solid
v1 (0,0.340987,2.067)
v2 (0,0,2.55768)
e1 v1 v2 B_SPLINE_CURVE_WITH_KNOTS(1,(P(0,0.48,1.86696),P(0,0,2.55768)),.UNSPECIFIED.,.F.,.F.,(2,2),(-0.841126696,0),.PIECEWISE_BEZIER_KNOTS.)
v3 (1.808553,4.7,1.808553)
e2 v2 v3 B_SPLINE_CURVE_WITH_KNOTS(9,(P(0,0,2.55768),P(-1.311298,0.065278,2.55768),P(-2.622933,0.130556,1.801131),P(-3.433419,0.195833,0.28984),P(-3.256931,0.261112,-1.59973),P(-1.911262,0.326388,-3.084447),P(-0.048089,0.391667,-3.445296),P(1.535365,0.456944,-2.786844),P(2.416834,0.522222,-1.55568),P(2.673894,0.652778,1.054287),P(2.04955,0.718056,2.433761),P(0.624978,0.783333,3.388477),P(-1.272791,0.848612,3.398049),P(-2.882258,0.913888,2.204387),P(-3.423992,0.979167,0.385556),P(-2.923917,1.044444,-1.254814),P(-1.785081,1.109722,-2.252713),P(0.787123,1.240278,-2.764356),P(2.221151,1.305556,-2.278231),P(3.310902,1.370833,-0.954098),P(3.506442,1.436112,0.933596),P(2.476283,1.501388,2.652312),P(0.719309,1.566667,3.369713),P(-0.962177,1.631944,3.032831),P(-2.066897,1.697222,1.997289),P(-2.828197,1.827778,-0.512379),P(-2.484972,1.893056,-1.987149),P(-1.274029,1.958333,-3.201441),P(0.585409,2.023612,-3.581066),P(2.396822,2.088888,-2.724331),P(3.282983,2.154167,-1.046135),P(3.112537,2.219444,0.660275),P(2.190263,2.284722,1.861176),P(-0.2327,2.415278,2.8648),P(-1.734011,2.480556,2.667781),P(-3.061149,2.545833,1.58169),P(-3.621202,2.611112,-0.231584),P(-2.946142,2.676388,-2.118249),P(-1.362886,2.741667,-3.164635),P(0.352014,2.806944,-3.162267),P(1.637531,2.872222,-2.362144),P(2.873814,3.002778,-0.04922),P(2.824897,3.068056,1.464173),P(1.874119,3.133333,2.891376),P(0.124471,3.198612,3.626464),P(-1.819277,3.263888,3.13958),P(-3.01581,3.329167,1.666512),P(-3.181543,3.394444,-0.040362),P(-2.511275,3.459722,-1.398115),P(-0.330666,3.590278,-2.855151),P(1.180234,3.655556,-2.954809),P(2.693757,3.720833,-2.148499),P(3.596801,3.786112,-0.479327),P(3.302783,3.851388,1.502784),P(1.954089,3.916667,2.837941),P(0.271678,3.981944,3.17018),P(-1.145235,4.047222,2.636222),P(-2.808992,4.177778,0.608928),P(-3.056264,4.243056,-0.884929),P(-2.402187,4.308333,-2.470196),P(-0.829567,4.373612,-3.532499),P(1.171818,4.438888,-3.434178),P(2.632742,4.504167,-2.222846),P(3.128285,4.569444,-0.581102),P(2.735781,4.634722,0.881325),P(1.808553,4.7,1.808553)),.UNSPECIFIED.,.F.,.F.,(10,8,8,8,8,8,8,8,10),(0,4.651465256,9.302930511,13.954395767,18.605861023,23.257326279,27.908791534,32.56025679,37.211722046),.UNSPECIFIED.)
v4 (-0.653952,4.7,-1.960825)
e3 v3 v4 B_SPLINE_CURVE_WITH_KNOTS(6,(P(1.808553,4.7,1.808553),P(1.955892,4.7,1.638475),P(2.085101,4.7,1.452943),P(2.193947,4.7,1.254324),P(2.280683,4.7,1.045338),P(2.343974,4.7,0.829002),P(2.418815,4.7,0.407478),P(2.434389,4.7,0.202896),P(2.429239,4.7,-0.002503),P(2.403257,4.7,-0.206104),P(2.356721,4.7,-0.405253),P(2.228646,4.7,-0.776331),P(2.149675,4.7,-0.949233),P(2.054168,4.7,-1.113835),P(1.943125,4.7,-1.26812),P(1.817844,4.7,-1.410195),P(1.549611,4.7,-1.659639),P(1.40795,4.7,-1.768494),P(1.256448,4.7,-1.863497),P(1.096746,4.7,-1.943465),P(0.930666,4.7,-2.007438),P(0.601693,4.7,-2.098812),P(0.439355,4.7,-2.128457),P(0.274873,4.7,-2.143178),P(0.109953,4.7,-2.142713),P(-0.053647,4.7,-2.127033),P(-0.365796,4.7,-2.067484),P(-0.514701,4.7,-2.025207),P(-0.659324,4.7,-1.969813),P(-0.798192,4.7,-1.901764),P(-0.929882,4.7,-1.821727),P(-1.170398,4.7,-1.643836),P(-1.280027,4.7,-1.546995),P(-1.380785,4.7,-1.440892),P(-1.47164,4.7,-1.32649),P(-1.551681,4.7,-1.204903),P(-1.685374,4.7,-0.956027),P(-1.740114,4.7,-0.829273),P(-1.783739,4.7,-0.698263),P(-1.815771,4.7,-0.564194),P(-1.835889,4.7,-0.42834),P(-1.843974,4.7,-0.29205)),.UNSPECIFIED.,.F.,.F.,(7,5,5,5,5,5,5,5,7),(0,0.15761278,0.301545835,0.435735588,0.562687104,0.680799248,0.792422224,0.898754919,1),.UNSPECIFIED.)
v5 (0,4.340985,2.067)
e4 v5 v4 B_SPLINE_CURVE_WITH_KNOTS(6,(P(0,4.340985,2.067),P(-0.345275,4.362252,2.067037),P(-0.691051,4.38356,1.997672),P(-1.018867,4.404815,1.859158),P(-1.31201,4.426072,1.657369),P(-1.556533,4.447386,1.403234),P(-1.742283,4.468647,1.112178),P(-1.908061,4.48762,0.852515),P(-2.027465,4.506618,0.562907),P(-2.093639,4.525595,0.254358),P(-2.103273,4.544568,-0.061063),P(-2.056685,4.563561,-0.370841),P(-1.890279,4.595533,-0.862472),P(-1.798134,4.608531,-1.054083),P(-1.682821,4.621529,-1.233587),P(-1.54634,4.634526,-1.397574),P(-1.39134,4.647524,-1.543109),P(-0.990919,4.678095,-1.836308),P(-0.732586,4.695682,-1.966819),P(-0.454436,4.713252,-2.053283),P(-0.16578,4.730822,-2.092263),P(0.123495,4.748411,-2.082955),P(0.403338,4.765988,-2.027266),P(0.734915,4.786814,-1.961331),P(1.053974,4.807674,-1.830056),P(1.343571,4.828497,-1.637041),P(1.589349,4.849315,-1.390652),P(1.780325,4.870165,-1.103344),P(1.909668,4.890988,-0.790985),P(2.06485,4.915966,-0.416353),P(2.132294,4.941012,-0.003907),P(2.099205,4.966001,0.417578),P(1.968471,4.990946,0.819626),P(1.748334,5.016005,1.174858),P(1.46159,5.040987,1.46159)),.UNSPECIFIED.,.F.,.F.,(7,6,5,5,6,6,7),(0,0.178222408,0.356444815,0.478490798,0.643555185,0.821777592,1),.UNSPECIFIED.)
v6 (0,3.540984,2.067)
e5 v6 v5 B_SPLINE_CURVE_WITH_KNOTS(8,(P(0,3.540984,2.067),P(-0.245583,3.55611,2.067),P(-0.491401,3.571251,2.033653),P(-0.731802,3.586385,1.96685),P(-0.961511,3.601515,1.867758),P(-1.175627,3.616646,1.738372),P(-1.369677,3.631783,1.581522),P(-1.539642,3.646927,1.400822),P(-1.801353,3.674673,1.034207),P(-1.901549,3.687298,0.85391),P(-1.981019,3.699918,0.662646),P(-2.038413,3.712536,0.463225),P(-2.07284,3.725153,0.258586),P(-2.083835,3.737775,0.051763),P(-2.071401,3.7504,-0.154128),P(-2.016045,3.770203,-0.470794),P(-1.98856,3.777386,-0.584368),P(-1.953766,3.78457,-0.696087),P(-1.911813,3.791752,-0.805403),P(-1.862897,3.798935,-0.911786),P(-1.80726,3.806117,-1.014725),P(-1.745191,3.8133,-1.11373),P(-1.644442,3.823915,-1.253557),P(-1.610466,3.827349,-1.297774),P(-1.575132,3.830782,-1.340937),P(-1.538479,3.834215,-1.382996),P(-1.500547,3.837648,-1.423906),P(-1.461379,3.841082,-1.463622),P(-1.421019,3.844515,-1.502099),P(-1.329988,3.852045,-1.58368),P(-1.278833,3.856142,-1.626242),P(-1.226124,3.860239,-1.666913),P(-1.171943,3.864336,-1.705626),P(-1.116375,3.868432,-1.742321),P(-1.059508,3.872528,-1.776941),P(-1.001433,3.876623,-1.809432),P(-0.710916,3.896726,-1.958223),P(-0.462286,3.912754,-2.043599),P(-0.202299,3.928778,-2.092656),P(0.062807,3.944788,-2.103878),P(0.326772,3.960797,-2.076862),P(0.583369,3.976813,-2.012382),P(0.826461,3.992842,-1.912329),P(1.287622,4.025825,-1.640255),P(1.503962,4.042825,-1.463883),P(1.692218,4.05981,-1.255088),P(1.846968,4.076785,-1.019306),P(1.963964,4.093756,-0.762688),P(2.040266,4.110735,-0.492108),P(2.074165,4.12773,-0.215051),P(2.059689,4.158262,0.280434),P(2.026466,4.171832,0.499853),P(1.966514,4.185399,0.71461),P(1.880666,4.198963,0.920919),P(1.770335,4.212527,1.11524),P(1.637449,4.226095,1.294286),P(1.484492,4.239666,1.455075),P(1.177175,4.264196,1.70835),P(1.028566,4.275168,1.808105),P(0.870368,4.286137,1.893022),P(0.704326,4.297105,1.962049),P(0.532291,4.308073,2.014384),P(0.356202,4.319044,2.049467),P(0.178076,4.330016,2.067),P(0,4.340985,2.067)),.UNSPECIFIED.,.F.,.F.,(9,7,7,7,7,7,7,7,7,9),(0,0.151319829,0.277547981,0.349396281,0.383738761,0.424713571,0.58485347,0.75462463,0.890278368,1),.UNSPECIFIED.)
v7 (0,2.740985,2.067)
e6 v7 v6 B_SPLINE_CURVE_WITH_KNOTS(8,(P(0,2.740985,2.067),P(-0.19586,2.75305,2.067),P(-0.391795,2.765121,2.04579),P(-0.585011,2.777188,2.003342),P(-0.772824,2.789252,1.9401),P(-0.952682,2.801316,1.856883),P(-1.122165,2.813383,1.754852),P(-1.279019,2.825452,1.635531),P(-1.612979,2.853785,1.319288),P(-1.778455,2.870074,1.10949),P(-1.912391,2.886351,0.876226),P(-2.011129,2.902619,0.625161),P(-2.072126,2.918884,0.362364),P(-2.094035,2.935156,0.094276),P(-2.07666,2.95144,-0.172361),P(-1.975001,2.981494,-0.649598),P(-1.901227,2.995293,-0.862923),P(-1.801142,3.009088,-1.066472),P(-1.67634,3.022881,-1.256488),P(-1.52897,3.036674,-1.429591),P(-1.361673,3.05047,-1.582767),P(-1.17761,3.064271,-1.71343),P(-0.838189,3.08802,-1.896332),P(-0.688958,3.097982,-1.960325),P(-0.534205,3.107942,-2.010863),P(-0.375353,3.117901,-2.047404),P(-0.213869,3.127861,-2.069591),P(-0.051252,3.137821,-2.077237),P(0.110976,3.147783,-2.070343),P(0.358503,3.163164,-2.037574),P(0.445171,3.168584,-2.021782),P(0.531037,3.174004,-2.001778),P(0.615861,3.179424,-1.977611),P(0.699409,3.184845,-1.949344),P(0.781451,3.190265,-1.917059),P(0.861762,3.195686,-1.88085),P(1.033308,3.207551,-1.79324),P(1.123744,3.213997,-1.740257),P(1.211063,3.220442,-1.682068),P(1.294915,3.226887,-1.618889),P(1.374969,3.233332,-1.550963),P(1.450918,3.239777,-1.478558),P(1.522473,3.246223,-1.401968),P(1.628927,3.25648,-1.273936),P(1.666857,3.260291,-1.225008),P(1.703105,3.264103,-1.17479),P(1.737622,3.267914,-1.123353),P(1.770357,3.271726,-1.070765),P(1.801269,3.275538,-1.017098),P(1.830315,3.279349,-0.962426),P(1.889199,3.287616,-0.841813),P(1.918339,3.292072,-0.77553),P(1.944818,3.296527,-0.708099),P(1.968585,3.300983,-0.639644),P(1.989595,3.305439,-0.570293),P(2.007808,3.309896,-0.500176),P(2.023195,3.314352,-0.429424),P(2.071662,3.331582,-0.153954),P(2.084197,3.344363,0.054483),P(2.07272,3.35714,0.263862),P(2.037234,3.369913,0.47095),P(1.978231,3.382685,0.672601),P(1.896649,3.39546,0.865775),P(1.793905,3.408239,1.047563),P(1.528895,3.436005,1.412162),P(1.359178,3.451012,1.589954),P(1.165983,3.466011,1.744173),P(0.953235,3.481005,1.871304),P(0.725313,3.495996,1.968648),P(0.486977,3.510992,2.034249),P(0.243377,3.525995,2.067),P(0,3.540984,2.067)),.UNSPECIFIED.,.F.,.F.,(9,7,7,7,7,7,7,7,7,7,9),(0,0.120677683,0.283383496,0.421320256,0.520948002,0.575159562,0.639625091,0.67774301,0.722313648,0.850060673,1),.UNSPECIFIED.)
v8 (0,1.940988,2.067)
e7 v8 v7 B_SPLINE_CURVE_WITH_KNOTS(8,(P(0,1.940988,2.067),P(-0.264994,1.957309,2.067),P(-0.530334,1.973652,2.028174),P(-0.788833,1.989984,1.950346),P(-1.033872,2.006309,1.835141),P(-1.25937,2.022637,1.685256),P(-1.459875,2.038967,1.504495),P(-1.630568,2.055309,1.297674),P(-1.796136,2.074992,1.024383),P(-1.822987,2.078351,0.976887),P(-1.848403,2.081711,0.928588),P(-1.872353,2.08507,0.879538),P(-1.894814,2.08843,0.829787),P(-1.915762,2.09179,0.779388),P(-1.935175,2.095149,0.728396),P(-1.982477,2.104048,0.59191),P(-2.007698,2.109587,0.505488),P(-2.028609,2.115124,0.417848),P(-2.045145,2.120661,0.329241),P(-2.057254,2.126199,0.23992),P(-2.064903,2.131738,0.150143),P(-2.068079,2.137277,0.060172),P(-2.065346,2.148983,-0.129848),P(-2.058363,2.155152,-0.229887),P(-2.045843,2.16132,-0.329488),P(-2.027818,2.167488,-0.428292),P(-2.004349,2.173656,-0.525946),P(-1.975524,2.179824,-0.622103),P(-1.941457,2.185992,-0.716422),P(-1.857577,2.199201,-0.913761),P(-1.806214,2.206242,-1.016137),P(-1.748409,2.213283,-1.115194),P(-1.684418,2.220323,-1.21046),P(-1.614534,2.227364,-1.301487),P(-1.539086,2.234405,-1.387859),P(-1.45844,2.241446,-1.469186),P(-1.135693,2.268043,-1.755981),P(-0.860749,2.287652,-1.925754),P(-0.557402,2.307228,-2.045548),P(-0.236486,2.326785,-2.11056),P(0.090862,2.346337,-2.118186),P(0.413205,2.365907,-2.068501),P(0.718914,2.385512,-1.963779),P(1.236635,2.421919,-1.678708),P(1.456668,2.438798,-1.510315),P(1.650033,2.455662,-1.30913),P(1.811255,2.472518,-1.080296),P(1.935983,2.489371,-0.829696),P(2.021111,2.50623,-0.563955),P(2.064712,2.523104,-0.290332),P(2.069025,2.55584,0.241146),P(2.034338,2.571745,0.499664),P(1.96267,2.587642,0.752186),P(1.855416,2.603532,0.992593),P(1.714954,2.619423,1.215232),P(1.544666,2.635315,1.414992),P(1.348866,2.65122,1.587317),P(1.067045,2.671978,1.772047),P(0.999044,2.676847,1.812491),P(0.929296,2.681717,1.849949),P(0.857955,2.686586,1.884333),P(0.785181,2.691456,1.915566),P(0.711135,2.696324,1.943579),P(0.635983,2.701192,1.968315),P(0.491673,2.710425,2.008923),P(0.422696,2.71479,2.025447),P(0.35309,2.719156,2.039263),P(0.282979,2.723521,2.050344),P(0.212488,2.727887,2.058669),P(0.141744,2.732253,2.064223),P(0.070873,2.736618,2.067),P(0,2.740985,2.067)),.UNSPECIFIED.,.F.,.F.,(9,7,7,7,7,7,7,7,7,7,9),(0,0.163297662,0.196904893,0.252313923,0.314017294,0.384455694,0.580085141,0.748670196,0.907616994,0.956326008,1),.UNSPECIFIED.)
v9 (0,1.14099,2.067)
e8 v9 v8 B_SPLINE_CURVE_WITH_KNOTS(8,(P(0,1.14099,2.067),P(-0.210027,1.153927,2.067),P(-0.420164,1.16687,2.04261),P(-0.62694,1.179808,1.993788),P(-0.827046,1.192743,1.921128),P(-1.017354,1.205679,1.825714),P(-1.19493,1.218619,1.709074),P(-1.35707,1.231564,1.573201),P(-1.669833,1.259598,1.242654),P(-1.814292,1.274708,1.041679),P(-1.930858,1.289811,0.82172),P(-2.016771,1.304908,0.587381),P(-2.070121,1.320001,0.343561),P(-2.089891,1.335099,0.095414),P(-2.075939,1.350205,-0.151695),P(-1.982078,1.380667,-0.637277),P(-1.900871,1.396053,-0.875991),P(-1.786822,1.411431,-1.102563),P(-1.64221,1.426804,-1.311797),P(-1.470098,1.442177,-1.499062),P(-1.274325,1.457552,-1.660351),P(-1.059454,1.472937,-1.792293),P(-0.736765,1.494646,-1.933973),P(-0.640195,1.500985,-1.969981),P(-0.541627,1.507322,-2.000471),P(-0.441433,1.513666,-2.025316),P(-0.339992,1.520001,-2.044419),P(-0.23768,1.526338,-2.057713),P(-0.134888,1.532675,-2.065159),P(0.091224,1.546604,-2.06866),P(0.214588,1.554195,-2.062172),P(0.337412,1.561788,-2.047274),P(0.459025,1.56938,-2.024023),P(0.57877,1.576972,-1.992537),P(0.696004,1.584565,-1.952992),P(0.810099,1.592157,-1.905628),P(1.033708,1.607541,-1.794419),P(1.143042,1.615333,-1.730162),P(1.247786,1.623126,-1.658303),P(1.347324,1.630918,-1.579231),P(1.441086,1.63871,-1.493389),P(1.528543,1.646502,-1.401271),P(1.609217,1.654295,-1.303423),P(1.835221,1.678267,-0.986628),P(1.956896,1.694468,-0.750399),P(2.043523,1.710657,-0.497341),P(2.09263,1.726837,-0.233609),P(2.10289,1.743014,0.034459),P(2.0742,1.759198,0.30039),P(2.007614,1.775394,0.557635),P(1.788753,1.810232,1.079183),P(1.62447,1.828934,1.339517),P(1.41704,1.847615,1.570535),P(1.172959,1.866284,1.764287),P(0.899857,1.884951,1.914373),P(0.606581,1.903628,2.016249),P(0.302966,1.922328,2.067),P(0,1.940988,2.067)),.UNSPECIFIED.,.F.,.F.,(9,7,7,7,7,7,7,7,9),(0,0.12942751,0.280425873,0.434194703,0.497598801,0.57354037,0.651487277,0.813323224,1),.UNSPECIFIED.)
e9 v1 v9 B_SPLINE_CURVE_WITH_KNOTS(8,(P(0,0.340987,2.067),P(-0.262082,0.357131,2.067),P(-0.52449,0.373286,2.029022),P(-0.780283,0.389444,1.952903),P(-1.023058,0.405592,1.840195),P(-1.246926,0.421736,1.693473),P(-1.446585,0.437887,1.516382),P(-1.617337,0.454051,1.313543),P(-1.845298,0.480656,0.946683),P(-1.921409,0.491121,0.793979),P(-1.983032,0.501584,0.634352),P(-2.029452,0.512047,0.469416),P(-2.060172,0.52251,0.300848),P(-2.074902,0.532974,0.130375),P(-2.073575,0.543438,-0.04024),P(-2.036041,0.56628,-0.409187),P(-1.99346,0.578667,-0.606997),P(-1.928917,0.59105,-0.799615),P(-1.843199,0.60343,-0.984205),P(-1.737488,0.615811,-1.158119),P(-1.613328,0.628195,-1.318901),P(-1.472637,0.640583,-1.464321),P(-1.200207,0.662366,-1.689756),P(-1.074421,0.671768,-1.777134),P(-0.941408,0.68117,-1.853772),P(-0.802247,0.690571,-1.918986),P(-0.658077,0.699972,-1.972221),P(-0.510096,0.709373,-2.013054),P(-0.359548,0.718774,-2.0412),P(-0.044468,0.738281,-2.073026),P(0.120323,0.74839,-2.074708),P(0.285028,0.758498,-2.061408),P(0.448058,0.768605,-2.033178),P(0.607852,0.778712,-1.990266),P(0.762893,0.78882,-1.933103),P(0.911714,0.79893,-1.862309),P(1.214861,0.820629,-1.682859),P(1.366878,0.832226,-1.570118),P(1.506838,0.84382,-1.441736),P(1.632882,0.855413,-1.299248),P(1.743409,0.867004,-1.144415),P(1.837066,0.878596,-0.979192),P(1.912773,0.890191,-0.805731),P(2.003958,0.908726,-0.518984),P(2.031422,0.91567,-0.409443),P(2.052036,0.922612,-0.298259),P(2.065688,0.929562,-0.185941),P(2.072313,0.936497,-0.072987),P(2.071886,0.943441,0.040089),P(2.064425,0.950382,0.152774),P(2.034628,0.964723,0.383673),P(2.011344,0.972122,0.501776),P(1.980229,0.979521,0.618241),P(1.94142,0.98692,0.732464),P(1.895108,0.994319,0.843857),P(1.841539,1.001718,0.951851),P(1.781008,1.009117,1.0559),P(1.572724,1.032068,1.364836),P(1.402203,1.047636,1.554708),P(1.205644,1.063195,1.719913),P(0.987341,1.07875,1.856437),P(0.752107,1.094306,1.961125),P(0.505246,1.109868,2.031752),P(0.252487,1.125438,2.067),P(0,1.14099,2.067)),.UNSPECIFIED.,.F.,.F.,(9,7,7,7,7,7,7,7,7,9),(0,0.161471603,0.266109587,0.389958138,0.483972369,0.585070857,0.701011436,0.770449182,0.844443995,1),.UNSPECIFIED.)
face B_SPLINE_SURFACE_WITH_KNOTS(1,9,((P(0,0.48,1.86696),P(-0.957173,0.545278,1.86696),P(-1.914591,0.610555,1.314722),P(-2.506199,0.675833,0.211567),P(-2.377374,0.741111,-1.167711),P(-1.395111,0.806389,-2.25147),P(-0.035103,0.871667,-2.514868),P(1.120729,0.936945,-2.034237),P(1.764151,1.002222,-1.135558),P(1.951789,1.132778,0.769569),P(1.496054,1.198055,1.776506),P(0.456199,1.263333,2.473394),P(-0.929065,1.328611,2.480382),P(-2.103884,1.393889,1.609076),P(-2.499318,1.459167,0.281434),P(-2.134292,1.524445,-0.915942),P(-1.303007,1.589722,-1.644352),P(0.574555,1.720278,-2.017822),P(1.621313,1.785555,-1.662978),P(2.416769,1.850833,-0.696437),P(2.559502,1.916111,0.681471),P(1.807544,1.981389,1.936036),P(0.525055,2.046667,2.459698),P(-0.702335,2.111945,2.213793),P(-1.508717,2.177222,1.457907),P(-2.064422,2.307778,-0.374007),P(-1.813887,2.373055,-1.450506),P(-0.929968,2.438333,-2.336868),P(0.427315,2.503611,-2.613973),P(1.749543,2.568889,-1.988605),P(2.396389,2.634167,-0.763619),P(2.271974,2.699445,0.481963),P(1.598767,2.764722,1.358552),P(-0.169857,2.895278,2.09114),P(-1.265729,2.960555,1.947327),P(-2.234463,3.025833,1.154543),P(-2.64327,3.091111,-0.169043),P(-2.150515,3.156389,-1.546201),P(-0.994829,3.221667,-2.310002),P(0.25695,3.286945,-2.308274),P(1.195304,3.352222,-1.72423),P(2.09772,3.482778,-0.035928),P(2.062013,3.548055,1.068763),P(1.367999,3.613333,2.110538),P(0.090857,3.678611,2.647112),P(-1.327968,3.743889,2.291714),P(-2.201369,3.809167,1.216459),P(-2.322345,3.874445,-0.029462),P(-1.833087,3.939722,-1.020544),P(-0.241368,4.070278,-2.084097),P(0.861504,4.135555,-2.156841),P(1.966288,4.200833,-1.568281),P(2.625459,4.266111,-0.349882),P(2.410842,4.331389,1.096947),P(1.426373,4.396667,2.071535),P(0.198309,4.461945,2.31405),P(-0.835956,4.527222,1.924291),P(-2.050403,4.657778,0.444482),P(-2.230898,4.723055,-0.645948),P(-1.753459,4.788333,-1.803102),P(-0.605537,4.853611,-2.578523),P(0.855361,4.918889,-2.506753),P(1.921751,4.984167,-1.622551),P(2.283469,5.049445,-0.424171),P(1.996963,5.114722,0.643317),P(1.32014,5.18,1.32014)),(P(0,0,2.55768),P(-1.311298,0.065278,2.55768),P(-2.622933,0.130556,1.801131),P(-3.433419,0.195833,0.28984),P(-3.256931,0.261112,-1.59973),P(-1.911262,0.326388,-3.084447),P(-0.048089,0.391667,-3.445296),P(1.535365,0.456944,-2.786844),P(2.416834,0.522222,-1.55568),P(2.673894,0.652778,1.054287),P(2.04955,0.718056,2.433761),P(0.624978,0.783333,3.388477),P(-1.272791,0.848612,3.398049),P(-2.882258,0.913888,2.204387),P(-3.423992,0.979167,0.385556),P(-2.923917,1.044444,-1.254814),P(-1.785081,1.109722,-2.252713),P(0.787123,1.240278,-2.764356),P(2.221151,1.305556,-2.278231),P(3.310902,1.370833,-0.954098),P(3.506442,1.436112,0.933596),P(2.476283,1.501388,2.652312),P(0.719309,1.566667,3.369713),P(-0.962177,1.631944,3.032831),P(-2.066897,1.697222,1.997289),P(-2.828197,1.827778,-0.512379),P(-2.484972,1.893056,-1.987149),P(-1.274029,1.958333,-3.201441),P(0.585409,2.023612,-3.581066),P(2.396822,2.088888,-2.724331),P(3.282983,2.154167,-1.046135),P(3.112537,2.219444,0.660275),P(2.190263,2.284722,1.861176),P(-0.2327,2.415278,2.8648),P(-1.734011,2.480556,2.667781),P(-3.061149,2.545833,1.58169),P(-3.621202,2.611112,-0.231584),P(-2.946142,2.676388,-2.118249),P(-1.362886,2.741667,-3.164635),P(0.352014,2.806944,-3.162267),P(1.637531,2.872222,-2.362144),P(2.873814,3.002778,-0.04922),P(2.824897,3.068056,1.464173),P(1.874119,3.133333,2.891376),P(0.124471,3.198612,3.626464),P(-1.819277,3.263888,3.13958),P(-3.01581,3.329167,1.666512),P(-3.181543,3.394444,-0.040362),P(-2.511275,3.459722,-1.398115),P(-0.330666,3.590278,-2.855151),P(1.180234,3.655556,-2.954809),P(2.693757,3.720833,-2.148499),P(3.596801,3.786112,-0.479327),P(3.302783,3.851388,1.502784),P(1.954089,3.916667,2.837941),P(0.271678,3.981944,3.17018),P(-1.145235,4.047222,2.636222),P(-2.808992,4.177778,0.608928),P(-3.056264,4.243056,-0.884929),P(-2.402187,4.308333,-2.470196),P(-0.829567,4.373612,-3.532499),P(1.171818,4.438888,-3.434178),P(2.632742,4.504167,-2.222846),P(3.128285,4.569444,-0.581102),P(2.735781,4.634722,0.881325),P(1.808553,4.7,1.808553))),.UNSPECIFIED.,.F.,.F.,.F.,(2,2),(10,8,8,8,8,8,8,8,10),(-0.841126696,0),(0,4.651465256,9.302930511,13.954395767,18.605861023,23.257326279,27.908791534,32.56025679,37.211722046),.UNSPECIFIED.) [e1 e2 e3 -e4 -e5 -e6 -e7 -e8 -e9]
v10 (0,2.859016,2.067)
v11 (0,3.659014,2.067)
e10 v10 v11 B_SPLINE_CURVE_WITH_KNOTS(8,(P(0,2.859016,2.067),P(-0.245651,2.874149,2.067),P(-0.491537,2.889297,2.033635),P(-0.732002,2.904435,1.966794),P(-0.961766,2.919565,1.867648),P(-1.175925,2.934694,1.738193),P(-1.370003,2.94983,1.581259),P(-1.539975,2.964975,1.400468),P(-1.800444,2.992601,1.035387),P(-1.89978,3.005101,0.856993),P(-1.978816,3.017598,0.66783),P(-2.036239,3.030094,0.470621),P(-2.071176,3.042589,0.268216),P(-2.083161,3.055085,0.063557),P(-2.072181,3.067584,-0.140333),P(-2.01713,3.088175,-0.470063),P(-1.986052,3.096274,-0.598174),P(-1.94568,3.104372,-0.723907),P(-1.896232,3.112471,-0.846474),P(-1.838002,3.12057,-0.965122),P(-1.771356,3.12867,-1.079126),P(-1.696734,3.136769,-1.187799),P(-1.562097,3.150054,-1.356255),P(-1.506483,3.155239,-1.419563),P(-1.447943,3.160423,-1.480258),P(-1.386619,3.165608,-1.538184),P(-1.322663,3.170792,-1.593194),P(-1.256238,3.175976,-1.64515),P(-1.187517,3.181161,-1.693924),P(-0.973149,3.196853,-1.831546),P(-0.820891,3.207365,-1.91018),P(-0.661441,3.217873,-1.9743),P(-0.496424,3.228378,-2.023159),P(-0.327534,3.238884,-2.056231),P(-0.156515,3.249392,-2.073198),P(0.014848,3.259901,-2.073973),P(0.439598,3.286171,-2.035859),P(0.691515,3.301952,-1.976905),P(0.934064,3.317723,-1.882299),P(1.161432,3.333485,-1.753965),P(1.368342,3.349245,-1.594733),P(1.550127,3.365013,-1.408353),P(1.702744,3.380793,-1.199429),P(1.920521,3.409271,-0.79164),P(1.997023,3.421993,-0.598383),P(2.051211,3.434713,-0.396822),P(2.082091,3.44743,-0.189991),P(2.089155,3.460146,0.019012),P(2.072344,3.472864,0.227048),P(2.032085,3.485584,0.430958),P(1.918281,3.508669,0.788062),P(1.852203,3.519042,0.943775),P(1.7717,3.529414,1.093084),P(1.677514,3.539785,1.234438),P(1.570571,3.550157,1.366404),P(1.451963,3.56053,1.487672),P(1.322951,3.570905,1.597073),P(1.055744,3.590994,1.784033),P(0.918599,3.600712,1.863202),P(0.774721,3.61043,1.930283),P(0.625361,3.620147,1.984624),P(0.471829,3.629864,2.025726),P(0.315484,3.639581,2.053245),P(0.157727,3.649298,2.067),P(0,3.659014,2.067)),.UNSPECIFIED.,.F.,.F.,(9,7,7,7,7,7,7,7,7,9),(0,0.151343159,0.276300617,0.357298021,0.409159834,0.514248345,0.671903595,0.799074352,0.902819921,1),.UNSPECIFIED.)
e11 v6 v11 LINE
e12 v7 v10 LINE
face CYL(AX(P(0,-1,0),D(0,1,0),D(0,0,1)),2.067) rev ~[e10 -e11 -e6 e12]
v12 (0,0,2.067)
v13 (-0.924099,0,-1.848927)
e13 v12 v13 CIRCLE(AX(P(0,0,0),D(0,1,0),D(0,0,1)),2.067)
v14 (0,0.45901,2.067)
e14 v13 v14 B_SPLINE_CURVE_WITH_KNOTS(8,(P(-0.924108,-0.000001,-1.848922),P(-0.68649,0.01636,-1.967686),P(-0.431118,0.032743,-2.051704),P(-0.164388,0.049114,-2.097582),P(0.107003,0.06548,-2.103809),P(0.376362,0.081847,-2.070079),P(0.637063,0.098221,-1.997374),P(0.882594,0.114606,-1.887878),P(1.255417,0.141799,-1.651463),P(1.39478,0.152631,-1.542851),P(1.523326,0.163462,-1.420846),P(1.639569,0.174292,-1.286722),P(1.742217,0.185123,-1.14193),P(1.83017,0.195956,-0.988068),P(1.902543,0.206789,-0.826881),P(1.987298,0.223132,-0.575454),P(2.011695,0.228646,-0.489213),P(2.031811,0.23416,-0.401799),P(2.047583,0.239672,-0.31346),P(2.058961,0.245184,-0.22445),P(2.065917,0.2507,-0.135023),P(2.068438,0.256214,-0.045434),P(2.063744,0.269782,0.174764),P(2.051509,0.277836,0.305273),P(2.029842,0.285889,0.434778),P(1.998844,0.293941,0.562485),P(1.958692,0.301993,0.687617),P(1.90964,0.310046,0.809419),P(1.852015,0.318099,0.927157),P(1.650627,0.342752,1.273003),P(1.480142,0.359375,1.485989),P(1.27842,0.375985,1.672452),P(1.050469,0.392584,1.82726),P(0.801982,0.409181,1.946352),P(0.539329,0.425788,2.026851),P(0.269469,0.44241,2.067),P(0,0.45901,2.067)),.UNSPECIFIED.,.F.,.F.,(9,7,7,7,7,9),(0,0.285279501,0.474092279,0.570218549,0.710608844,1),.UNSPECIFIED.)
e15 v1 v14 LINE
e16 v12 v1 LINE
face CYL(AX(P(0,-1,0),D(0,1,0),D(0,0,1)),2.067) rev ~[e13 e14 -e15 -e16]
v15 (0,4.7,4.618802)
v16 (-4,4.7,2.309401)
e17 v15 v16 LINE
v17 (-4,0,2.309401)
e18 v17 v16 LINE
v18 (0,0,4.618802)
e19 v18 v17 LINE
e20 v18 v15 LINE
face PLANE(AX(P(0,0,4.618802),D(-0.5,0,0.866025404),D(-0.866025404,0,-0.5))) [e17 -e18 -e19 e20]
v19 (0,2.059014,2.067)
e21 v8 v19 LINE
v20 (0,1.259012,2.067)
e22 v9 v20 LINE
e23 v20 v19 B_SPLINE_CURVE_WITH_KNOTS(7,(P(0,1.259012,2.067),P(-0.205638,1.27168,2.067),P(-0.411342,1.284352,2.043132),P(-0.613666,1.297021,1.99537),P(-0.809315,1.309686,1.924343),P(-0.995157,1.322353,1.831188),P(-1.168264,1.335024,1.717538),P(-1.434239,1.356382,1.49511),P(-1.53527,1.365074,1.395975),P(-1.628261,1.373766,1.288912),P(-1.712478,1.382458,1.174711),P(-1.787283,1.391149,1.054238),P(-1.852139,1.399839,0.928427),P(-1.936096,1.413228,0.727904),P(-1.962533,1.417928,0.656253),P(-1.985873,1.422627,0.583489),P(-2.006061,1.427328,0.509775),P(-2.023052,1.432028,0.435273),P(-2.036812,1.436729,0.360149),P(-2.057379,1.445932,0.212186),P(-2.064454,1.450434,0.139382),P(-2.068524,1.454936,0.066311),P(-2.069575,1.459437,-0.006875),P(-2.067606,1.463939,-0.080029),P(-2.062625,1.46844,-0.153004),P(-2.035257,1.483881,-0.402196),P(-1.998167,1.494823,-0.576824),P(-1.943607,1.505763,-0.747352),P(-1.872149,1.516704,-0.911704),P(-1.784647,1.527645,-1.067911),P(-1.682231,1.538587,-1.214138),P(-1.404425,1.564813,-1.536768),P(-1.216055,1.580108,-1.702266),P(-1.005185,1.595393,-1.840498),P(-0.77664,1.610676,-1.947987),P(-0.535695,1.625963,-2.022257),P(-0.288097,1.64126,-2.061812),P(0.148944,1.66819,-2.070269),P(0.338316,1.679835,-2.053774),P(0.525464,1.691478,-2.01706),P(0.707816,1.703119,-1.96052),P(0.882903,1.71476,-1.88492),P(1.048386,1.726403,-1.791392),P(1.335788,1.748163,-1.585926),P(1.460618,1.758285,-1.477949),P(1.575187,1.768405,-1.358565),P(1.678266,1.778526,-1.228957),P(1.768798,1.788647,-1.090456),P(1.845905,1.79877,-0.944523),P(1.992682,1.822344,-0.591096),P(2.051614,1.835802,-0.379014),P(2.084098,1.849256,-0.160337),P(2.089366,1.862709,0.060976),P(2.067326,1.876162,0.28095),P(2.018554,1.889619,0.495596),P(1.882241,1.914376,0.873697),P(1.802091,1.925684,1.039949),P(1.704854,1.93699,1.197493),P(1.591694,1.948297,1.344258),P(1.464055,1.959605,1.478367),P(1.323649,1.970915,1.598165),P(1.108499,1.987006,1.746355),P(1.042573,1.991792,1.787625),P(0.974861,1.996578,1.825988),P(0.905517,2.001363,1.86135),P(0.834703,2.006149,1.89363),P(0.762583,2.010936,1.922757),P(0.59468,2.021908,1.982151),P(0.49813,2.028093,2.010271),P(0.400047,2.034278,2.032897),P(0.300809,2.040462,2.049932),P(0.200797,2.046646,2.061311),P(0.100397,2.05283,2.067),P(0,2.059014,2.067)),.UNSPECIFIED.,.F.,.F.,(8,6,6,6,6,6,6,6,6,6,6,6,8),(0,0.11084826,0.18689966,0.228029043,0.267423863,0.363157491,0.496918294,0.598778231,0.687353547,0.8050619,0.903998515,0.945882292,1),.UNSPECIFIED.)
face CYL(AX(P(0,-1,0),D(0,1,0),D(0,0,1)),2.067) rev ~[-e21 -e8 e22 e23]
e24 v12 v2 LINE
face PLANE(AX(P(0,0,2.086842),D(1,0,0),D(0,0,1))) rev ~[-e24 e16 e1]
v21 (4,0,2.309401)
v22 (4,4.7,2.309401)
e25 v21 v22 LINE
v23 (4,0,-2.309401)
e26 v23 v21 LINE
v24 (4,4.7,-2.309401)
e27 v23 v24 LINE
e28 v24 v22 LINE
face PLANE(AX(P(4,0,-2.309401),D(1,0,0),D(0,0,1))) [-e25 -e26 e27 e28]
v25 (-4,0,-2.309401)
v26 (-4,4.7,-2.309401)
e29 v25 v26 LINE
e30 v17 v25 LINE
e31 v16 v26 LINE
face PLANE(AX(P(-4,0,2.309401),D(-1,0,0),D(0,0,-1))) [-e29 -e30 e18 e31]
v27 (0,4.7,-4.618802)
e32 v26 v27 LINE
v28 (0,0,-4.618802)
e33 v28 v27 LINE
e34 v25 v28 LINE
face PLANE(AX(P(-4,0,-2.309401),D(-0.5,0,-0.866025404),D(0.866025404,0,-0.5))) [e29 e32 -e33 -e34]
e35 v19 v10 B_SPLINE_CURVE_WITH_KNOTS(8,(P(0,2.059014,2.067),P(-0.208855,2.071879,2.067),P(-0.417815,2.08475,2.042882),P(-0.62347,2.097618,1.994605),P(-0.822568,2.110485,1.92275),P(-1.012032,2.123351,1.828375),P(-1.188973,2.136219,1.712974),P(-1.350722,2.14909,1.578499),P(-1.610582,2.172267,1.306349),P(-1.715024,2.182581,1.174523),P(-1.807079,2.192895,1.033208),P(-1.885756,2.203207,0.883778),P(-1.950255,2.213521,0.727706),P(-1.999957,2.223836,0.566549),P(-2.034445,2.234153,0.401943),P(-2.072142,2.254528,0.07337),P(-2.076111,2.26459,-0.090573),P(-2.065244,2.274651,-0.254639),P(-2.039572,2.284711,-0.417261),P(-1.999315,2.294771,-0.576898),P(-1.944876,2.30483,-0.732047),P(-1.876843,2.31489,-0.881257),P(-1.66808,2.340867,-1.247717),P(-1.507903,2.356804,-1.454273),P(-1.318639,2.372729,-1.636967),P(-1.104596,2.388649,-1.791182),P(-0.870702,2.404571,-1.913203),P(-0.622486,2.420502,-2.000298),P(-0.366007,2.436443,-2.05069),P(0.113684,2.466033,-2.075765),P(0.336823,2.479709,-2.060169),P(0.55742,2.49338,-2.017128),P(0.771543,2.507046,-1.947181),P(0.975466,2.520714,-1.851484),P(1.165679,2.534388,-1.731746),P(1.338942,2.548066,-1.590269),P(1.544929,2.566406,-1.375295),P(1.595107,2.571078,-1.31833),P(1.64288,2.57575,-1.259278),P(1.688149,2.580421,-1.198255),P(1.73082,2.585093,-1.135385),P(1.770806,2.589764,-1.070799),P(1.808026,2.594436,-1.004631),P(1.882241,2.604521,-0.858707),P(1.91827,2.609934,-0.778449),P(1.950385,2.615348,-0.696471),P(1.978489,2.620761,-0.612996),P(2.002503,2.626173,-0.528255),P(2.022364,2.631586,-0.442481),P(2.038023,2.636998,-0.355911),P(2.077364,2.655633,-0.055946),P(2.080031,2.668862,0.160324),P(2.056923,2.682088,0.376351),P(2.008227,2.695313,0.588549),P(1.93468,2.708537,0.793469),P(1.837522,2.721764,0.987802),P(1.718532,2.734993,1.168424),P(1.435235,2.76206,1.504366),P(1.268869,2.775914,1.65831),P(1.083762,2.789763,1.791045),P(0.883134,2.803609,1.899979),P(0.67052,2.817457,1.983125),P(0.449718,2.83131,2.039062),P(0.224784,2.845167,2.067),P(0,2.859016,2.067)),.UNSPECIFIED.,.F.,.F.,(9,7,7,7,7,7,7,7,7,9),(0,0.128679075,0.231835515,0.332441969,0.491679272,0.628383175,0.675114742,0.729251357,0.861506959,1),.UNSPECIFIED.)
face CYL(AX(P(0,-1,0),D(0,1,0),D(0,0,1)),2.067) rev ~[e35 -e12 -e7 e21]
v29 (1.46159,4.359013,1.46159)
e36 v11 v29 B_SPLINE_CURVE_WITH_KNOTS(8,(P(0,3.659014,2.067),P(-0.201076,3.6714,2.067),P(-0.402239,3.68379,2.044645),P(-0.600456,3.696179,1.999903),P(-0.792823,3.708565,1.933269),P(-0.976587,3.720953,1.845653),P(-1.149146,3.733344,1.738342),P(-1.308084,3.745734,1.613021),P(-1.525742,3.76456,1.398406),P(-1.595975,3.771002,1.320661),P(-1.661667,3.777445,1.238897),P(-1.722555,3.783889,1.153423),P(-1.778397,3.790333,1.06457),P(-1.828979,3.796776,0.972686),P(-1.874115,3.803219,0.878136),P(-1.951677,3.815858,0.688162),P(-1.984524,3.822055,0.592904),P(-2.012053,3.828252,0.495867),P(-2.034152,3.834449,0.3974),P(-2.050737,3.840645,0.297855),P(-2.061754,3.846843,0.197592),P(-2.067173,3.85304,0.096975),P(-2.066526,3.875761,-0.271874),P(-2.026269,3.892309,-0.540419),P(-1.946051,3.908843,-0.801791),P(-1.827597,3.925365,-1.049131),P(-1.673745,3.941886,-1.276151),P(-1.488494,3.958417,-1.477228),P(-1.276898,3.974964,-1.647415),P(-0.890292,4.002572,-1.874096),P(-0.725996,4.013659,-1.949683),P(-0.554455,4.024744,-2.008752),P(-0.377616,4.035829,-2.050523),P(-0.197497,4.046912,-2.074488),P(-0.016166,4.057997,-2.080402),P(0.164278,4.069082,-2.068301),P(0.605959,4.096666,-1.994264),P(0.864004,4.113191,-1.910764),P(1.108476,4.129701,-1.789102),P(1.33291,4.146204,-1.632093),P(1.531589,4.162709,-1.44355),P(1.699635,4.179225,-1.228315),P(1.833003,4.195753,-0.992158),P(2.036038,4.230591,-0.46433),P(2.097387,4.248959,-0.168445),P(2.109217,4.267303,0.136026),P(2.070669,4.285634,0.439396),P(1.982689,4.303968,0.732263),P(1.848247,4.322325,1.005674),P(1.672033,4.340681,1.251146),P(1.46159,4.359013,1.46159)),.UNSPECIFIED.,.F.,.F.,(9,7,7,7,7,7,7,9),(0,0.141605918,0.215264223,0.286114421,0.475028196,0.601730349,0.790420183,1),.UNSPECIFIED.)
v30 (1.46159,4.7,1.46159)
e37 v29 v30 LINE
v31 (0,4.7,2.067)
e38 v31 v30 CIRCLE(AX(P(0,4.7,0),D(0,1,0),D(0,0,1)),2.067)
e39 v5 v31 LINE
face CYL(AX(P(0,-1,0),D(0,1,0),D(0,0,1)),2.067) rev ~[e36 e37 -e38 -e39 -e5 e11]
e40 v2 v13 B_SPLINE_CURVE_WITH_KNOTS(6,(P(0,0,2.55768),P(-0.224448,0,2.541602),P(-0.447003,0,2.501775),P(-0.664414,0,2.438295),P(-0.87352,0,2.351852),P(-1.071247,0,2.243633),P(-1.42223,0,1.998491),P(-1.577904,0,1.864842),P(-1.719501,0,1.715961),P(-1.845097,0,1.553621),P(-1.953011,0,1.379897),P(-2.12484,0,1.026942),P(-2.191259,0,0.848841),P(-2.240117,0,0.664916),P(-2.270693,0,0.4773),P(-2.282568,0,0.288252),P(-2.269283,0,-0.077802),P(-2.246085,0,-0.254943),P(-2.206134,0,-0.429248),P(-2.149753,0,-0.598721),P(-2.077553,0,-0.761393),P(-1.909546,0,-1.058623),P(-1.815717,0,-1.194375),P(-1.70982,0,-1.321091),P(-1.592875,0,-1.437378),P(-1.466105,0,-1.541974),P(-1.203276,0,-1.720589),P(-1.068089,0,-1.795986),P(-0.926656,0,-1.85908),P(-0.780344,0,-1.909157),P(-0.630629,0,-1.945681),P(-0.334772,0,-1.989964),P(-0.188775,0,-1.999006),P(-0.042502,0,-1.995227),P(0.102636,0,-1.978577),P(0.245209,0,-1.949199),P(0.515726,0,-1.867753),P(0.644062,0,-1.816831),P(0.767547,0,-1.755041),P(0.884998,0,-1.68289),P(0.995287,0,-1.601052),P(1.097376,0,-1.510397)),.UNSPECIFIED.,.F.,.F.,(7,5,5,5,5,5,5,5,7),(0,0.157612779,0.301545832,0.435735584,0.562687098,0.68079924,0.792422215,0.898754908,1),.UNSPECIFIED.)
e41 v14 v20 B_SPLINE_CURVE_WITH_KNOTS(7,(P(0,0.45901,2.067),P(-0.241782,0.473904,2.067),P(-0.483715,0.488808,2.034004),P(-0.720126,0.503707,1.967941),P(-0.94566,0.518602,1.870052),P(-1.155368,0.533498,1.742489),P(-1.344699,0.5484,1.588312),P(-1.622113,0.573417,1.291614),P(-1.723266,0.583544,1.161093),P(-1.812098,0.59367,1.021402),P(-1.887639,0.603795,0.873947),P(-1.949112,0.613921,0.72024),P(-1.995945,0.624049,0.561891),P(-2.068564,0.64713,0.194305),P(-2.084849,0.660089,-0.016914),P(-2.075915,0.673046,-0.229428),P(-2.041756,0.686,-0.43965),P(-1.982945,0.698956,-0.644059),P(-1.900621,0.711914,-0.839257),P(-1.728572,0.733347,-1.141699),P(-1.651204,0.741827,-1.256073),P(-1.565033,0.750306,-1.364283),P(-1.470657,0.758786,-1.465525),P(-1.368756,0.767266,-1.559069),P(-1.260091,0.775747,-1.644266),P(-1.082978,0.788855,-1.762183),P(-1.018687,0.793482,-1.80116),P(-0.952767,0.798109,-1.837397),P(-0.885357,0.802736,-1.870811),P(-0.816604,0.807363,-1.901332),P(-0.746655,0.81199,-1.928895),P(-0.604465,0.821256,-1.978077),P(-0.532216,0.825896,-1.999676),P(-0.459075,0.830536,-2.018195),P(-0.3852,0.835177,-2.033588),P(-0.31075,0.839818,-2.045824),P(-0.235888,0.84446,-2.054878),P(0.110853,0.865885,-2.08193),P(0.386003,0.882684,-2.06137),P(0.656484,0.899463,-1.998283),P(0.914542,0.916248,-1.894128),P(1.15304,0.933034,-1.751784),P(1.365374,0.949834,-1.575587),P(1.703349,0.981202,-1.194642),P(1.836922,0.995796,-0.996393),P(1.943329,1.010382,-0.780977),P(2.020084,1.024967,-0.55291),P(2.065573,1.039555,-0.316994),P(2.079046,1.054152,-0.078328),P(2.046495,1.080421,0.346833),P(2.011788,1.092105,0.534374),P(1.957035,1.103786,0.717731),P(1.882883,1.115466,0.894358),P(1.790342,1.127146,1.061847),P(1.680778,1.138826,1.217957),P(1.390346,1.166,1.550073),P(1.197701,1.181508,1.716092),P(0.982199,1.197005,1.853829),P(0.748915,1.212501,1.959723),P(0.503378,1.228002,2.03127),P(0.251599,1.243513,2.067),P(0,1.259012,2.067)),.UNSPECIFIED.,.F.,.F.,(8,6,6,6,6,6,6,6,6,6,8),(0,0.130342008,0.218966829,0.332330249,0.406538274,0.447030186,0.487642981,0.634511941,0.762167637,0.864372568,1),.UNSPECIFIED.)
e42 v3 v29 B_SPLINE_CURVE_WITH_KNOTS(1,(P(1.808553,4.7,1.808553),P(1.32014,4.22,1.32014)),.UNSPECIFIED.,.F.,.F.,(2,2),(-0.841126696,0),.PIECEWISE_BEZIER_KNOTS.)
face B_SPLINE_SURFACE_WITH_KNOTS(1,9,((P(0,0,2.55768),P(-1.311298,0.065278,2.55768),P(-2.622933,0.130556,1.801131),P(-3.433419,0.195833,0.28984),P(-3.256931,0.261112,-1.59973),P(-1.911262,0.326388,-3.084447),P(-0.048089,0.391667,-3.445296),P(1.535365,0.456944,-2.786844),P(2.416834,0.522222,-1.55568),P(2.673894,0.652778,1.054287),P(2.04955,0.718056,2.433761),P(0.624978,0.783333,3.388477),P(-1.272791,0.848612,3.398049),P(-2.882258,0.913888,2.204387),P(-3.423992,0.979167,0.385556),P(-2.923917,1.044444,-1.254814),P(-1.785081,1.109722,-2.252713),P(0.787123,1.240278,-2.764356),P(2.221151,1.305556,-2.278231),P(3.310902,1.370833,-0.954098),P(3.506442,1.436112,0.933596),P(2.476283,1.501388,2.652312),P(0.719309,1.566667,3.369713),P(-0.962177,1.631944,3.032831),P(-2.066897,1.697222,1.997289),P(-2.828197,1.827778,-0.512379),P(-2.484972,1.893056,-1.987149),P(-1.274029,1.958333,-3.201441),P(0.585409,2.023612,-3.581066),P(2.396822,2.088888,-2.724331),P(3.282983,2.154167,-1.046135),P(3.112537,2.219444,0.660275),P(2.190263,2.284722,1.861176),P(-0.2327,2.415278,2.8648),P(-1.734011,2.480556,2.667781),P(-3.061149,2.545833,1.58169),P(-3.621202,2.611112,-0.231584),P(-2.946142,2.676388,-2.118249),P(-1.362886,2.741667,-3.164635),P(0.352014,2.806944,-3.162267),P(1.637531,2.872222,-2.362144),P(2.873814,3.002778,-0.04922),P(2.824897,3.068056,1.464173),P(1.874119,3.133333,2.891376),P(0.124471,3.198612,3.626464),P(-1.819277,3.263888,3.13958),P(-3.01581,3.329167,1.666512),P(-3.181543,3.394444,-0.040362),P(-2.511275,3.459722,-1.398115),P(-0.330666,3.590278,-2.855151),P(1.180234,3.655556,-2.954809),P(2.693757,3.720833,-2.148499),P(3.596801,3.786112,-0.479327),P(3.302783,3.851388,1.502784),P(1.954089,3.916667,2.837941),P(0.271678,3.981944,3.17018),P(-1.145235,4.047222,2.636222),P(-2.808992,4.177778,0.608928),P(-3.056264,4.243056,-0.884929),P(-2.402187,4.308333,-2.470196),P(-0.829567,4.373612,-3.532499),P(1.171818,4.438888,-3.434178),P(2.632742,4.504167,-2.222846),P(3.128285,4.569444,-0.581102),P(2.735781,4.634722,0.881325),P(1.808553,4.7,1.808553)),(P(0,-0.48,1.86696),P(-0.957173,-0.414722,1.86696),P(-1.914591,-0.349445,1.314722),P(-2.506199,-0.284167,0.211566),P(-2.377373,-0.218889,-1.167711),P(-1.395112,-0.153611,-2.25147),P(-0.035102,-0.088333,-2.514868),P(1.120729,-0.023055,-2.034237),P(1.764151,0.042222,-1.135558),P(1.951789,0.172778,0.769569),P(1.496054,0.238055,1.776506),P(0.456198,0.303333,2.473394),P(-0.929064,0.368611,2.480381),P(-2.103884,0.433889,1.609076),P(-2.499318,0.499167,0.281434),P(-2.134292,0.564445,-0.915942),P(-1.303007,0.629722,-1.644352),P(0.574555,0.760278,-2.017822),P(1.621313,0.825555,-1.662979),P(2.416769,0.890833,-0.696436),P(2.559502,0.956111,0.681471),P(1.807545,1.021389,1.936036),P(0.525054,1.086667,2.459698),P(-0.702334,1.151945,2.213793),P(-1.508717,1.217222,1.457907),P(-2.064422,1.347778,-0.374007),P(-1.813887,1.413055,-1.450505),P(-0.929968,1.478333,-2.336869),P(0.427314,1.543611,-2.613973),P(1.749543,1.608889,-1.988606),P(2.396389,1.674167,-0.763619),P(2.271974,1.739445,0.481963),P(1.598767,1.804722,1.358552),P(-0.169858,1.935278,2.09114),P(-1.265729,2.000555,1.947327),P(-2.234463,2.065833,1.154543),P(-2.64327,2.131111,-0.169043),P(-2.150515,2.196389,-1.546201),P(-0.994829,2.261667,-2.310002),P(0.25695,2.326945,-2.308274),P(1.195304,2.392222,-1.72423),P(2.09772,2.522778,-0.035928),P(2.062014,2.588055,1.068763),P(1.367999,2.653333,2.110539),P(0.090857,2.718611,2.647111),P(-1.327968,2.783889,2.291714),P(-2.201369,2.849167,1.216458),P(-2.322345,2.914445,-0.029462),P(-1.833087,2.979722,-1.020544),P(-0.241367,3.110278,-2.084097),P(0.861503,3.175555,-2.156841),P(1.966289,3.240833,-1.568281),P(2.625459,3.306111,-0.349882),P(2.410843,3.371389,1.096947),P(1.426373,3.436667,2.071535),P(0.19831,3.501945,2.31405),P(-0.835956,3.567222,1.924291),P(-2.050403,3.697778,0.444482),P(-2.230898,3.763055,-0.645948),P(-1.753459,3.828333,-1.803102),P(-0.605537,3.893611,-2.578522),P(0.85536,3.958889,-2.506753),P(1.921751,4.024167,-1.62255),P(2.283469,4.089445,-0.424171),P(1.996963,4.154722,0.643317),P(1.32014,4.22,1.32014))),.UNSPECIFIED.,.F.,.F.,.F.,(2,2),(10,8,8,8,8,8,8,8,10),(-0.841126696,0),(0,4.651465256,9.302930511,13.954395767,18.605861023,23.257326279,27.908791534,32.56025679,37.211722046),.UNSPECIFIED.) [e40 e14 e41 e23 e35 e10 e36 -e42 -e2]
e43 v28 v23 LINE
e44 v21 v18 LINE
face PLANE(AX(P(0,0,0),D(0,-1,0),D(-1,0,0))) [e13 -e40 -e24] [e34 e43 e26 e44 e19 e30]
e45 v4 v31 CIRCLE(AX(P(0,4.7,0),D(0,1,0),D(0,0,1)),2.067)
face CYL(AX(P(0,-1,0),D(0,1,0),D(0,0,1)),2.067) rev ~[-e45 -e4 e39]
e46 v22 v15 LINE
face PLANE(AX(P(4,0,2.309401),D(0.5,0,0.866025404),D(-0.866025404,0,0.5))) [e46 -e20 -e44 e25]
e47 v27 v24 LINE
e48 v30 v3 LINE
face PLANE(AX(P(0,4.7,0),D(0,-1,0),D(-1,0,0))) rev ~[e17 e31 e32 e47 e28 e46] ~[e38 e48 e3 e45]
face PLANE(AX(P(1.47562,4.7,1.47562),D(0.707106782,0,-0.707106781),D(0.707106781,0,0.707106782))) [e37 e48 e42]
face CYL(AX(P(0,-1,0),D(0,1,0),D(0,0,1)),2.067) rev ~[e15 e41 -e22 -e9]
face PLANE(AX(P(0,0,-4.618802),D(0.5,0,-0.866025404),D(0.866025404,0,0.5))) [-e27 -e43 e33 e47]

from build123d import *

# Parameters (mm, degrees)
HEXAGONO_DEPTH      = 4.7
TALADRO_PROFILE_R   = 2.067
ROSCA_M5X0_8_PITCH  = 0.8
ROSCA_M5X0_8_HEIGHT = 4.7
ROSCA_M5X0_8_RADIUS = 2.06696


with BuildPart() as part:
    # Sk_Hexagono → Hexagono (new body)
    with BuildSketch(Plane(origin=(0, 0, 0), x_dir=(1, 0, 0), z_dir=(0, 1, 0))):
        Polygon((4, -2.309401077), (0, -4.618802154), (-4, -2.309401077), (-4, 2.309401077), (0, 4.618802154), (4, 2.309401077), align=None)
    extrude(amount=HEXAGONO_DEPTH)

    # Taladro: sweep along a curve in space
    with BuildLine() as taladro_path:
        Line((0, -1, 0), (0, 5.7, 0))
    # Taladro profile (on start of the path) → Taladro (sweep, cut)
    with BuildSketch(Plane.ZX.offset(-1)):
        Circle(TALADRO_PROFILE_R)
    sweep(path=taladro_path.line, mode=Mode.SUBTRACT)

    # Rosca_M5x0,8: sweep along a helix
    with BuildLine() as rosca_m5x0_8_path:
        Helix(ROSCA_M5X0_8_PITCH, ROSCA_M5X0_8_HEIGHT, ROSCA_M5X0_8_RADIUS, center=(0, 0, 0), direction=(0, 1, 0), lefthand=True)
    # Sk_Perfil_rosca → Rosca_M5x0,8 (sweep, cut)
    with BuildSketch(Plane(origin=(0, 0, 0), x_dir=(0, 0, -1), z_dir=(1, 0, 0))):
        Polygon((-1.86696, -0.48), (-2.55768, 0), (-1.86696, 0.48), align=None)
    sweep(path=rosca_m5x0_8_path.line, is_frenet=True, mode=Mode.SUBTRACT)


solid = part.part
